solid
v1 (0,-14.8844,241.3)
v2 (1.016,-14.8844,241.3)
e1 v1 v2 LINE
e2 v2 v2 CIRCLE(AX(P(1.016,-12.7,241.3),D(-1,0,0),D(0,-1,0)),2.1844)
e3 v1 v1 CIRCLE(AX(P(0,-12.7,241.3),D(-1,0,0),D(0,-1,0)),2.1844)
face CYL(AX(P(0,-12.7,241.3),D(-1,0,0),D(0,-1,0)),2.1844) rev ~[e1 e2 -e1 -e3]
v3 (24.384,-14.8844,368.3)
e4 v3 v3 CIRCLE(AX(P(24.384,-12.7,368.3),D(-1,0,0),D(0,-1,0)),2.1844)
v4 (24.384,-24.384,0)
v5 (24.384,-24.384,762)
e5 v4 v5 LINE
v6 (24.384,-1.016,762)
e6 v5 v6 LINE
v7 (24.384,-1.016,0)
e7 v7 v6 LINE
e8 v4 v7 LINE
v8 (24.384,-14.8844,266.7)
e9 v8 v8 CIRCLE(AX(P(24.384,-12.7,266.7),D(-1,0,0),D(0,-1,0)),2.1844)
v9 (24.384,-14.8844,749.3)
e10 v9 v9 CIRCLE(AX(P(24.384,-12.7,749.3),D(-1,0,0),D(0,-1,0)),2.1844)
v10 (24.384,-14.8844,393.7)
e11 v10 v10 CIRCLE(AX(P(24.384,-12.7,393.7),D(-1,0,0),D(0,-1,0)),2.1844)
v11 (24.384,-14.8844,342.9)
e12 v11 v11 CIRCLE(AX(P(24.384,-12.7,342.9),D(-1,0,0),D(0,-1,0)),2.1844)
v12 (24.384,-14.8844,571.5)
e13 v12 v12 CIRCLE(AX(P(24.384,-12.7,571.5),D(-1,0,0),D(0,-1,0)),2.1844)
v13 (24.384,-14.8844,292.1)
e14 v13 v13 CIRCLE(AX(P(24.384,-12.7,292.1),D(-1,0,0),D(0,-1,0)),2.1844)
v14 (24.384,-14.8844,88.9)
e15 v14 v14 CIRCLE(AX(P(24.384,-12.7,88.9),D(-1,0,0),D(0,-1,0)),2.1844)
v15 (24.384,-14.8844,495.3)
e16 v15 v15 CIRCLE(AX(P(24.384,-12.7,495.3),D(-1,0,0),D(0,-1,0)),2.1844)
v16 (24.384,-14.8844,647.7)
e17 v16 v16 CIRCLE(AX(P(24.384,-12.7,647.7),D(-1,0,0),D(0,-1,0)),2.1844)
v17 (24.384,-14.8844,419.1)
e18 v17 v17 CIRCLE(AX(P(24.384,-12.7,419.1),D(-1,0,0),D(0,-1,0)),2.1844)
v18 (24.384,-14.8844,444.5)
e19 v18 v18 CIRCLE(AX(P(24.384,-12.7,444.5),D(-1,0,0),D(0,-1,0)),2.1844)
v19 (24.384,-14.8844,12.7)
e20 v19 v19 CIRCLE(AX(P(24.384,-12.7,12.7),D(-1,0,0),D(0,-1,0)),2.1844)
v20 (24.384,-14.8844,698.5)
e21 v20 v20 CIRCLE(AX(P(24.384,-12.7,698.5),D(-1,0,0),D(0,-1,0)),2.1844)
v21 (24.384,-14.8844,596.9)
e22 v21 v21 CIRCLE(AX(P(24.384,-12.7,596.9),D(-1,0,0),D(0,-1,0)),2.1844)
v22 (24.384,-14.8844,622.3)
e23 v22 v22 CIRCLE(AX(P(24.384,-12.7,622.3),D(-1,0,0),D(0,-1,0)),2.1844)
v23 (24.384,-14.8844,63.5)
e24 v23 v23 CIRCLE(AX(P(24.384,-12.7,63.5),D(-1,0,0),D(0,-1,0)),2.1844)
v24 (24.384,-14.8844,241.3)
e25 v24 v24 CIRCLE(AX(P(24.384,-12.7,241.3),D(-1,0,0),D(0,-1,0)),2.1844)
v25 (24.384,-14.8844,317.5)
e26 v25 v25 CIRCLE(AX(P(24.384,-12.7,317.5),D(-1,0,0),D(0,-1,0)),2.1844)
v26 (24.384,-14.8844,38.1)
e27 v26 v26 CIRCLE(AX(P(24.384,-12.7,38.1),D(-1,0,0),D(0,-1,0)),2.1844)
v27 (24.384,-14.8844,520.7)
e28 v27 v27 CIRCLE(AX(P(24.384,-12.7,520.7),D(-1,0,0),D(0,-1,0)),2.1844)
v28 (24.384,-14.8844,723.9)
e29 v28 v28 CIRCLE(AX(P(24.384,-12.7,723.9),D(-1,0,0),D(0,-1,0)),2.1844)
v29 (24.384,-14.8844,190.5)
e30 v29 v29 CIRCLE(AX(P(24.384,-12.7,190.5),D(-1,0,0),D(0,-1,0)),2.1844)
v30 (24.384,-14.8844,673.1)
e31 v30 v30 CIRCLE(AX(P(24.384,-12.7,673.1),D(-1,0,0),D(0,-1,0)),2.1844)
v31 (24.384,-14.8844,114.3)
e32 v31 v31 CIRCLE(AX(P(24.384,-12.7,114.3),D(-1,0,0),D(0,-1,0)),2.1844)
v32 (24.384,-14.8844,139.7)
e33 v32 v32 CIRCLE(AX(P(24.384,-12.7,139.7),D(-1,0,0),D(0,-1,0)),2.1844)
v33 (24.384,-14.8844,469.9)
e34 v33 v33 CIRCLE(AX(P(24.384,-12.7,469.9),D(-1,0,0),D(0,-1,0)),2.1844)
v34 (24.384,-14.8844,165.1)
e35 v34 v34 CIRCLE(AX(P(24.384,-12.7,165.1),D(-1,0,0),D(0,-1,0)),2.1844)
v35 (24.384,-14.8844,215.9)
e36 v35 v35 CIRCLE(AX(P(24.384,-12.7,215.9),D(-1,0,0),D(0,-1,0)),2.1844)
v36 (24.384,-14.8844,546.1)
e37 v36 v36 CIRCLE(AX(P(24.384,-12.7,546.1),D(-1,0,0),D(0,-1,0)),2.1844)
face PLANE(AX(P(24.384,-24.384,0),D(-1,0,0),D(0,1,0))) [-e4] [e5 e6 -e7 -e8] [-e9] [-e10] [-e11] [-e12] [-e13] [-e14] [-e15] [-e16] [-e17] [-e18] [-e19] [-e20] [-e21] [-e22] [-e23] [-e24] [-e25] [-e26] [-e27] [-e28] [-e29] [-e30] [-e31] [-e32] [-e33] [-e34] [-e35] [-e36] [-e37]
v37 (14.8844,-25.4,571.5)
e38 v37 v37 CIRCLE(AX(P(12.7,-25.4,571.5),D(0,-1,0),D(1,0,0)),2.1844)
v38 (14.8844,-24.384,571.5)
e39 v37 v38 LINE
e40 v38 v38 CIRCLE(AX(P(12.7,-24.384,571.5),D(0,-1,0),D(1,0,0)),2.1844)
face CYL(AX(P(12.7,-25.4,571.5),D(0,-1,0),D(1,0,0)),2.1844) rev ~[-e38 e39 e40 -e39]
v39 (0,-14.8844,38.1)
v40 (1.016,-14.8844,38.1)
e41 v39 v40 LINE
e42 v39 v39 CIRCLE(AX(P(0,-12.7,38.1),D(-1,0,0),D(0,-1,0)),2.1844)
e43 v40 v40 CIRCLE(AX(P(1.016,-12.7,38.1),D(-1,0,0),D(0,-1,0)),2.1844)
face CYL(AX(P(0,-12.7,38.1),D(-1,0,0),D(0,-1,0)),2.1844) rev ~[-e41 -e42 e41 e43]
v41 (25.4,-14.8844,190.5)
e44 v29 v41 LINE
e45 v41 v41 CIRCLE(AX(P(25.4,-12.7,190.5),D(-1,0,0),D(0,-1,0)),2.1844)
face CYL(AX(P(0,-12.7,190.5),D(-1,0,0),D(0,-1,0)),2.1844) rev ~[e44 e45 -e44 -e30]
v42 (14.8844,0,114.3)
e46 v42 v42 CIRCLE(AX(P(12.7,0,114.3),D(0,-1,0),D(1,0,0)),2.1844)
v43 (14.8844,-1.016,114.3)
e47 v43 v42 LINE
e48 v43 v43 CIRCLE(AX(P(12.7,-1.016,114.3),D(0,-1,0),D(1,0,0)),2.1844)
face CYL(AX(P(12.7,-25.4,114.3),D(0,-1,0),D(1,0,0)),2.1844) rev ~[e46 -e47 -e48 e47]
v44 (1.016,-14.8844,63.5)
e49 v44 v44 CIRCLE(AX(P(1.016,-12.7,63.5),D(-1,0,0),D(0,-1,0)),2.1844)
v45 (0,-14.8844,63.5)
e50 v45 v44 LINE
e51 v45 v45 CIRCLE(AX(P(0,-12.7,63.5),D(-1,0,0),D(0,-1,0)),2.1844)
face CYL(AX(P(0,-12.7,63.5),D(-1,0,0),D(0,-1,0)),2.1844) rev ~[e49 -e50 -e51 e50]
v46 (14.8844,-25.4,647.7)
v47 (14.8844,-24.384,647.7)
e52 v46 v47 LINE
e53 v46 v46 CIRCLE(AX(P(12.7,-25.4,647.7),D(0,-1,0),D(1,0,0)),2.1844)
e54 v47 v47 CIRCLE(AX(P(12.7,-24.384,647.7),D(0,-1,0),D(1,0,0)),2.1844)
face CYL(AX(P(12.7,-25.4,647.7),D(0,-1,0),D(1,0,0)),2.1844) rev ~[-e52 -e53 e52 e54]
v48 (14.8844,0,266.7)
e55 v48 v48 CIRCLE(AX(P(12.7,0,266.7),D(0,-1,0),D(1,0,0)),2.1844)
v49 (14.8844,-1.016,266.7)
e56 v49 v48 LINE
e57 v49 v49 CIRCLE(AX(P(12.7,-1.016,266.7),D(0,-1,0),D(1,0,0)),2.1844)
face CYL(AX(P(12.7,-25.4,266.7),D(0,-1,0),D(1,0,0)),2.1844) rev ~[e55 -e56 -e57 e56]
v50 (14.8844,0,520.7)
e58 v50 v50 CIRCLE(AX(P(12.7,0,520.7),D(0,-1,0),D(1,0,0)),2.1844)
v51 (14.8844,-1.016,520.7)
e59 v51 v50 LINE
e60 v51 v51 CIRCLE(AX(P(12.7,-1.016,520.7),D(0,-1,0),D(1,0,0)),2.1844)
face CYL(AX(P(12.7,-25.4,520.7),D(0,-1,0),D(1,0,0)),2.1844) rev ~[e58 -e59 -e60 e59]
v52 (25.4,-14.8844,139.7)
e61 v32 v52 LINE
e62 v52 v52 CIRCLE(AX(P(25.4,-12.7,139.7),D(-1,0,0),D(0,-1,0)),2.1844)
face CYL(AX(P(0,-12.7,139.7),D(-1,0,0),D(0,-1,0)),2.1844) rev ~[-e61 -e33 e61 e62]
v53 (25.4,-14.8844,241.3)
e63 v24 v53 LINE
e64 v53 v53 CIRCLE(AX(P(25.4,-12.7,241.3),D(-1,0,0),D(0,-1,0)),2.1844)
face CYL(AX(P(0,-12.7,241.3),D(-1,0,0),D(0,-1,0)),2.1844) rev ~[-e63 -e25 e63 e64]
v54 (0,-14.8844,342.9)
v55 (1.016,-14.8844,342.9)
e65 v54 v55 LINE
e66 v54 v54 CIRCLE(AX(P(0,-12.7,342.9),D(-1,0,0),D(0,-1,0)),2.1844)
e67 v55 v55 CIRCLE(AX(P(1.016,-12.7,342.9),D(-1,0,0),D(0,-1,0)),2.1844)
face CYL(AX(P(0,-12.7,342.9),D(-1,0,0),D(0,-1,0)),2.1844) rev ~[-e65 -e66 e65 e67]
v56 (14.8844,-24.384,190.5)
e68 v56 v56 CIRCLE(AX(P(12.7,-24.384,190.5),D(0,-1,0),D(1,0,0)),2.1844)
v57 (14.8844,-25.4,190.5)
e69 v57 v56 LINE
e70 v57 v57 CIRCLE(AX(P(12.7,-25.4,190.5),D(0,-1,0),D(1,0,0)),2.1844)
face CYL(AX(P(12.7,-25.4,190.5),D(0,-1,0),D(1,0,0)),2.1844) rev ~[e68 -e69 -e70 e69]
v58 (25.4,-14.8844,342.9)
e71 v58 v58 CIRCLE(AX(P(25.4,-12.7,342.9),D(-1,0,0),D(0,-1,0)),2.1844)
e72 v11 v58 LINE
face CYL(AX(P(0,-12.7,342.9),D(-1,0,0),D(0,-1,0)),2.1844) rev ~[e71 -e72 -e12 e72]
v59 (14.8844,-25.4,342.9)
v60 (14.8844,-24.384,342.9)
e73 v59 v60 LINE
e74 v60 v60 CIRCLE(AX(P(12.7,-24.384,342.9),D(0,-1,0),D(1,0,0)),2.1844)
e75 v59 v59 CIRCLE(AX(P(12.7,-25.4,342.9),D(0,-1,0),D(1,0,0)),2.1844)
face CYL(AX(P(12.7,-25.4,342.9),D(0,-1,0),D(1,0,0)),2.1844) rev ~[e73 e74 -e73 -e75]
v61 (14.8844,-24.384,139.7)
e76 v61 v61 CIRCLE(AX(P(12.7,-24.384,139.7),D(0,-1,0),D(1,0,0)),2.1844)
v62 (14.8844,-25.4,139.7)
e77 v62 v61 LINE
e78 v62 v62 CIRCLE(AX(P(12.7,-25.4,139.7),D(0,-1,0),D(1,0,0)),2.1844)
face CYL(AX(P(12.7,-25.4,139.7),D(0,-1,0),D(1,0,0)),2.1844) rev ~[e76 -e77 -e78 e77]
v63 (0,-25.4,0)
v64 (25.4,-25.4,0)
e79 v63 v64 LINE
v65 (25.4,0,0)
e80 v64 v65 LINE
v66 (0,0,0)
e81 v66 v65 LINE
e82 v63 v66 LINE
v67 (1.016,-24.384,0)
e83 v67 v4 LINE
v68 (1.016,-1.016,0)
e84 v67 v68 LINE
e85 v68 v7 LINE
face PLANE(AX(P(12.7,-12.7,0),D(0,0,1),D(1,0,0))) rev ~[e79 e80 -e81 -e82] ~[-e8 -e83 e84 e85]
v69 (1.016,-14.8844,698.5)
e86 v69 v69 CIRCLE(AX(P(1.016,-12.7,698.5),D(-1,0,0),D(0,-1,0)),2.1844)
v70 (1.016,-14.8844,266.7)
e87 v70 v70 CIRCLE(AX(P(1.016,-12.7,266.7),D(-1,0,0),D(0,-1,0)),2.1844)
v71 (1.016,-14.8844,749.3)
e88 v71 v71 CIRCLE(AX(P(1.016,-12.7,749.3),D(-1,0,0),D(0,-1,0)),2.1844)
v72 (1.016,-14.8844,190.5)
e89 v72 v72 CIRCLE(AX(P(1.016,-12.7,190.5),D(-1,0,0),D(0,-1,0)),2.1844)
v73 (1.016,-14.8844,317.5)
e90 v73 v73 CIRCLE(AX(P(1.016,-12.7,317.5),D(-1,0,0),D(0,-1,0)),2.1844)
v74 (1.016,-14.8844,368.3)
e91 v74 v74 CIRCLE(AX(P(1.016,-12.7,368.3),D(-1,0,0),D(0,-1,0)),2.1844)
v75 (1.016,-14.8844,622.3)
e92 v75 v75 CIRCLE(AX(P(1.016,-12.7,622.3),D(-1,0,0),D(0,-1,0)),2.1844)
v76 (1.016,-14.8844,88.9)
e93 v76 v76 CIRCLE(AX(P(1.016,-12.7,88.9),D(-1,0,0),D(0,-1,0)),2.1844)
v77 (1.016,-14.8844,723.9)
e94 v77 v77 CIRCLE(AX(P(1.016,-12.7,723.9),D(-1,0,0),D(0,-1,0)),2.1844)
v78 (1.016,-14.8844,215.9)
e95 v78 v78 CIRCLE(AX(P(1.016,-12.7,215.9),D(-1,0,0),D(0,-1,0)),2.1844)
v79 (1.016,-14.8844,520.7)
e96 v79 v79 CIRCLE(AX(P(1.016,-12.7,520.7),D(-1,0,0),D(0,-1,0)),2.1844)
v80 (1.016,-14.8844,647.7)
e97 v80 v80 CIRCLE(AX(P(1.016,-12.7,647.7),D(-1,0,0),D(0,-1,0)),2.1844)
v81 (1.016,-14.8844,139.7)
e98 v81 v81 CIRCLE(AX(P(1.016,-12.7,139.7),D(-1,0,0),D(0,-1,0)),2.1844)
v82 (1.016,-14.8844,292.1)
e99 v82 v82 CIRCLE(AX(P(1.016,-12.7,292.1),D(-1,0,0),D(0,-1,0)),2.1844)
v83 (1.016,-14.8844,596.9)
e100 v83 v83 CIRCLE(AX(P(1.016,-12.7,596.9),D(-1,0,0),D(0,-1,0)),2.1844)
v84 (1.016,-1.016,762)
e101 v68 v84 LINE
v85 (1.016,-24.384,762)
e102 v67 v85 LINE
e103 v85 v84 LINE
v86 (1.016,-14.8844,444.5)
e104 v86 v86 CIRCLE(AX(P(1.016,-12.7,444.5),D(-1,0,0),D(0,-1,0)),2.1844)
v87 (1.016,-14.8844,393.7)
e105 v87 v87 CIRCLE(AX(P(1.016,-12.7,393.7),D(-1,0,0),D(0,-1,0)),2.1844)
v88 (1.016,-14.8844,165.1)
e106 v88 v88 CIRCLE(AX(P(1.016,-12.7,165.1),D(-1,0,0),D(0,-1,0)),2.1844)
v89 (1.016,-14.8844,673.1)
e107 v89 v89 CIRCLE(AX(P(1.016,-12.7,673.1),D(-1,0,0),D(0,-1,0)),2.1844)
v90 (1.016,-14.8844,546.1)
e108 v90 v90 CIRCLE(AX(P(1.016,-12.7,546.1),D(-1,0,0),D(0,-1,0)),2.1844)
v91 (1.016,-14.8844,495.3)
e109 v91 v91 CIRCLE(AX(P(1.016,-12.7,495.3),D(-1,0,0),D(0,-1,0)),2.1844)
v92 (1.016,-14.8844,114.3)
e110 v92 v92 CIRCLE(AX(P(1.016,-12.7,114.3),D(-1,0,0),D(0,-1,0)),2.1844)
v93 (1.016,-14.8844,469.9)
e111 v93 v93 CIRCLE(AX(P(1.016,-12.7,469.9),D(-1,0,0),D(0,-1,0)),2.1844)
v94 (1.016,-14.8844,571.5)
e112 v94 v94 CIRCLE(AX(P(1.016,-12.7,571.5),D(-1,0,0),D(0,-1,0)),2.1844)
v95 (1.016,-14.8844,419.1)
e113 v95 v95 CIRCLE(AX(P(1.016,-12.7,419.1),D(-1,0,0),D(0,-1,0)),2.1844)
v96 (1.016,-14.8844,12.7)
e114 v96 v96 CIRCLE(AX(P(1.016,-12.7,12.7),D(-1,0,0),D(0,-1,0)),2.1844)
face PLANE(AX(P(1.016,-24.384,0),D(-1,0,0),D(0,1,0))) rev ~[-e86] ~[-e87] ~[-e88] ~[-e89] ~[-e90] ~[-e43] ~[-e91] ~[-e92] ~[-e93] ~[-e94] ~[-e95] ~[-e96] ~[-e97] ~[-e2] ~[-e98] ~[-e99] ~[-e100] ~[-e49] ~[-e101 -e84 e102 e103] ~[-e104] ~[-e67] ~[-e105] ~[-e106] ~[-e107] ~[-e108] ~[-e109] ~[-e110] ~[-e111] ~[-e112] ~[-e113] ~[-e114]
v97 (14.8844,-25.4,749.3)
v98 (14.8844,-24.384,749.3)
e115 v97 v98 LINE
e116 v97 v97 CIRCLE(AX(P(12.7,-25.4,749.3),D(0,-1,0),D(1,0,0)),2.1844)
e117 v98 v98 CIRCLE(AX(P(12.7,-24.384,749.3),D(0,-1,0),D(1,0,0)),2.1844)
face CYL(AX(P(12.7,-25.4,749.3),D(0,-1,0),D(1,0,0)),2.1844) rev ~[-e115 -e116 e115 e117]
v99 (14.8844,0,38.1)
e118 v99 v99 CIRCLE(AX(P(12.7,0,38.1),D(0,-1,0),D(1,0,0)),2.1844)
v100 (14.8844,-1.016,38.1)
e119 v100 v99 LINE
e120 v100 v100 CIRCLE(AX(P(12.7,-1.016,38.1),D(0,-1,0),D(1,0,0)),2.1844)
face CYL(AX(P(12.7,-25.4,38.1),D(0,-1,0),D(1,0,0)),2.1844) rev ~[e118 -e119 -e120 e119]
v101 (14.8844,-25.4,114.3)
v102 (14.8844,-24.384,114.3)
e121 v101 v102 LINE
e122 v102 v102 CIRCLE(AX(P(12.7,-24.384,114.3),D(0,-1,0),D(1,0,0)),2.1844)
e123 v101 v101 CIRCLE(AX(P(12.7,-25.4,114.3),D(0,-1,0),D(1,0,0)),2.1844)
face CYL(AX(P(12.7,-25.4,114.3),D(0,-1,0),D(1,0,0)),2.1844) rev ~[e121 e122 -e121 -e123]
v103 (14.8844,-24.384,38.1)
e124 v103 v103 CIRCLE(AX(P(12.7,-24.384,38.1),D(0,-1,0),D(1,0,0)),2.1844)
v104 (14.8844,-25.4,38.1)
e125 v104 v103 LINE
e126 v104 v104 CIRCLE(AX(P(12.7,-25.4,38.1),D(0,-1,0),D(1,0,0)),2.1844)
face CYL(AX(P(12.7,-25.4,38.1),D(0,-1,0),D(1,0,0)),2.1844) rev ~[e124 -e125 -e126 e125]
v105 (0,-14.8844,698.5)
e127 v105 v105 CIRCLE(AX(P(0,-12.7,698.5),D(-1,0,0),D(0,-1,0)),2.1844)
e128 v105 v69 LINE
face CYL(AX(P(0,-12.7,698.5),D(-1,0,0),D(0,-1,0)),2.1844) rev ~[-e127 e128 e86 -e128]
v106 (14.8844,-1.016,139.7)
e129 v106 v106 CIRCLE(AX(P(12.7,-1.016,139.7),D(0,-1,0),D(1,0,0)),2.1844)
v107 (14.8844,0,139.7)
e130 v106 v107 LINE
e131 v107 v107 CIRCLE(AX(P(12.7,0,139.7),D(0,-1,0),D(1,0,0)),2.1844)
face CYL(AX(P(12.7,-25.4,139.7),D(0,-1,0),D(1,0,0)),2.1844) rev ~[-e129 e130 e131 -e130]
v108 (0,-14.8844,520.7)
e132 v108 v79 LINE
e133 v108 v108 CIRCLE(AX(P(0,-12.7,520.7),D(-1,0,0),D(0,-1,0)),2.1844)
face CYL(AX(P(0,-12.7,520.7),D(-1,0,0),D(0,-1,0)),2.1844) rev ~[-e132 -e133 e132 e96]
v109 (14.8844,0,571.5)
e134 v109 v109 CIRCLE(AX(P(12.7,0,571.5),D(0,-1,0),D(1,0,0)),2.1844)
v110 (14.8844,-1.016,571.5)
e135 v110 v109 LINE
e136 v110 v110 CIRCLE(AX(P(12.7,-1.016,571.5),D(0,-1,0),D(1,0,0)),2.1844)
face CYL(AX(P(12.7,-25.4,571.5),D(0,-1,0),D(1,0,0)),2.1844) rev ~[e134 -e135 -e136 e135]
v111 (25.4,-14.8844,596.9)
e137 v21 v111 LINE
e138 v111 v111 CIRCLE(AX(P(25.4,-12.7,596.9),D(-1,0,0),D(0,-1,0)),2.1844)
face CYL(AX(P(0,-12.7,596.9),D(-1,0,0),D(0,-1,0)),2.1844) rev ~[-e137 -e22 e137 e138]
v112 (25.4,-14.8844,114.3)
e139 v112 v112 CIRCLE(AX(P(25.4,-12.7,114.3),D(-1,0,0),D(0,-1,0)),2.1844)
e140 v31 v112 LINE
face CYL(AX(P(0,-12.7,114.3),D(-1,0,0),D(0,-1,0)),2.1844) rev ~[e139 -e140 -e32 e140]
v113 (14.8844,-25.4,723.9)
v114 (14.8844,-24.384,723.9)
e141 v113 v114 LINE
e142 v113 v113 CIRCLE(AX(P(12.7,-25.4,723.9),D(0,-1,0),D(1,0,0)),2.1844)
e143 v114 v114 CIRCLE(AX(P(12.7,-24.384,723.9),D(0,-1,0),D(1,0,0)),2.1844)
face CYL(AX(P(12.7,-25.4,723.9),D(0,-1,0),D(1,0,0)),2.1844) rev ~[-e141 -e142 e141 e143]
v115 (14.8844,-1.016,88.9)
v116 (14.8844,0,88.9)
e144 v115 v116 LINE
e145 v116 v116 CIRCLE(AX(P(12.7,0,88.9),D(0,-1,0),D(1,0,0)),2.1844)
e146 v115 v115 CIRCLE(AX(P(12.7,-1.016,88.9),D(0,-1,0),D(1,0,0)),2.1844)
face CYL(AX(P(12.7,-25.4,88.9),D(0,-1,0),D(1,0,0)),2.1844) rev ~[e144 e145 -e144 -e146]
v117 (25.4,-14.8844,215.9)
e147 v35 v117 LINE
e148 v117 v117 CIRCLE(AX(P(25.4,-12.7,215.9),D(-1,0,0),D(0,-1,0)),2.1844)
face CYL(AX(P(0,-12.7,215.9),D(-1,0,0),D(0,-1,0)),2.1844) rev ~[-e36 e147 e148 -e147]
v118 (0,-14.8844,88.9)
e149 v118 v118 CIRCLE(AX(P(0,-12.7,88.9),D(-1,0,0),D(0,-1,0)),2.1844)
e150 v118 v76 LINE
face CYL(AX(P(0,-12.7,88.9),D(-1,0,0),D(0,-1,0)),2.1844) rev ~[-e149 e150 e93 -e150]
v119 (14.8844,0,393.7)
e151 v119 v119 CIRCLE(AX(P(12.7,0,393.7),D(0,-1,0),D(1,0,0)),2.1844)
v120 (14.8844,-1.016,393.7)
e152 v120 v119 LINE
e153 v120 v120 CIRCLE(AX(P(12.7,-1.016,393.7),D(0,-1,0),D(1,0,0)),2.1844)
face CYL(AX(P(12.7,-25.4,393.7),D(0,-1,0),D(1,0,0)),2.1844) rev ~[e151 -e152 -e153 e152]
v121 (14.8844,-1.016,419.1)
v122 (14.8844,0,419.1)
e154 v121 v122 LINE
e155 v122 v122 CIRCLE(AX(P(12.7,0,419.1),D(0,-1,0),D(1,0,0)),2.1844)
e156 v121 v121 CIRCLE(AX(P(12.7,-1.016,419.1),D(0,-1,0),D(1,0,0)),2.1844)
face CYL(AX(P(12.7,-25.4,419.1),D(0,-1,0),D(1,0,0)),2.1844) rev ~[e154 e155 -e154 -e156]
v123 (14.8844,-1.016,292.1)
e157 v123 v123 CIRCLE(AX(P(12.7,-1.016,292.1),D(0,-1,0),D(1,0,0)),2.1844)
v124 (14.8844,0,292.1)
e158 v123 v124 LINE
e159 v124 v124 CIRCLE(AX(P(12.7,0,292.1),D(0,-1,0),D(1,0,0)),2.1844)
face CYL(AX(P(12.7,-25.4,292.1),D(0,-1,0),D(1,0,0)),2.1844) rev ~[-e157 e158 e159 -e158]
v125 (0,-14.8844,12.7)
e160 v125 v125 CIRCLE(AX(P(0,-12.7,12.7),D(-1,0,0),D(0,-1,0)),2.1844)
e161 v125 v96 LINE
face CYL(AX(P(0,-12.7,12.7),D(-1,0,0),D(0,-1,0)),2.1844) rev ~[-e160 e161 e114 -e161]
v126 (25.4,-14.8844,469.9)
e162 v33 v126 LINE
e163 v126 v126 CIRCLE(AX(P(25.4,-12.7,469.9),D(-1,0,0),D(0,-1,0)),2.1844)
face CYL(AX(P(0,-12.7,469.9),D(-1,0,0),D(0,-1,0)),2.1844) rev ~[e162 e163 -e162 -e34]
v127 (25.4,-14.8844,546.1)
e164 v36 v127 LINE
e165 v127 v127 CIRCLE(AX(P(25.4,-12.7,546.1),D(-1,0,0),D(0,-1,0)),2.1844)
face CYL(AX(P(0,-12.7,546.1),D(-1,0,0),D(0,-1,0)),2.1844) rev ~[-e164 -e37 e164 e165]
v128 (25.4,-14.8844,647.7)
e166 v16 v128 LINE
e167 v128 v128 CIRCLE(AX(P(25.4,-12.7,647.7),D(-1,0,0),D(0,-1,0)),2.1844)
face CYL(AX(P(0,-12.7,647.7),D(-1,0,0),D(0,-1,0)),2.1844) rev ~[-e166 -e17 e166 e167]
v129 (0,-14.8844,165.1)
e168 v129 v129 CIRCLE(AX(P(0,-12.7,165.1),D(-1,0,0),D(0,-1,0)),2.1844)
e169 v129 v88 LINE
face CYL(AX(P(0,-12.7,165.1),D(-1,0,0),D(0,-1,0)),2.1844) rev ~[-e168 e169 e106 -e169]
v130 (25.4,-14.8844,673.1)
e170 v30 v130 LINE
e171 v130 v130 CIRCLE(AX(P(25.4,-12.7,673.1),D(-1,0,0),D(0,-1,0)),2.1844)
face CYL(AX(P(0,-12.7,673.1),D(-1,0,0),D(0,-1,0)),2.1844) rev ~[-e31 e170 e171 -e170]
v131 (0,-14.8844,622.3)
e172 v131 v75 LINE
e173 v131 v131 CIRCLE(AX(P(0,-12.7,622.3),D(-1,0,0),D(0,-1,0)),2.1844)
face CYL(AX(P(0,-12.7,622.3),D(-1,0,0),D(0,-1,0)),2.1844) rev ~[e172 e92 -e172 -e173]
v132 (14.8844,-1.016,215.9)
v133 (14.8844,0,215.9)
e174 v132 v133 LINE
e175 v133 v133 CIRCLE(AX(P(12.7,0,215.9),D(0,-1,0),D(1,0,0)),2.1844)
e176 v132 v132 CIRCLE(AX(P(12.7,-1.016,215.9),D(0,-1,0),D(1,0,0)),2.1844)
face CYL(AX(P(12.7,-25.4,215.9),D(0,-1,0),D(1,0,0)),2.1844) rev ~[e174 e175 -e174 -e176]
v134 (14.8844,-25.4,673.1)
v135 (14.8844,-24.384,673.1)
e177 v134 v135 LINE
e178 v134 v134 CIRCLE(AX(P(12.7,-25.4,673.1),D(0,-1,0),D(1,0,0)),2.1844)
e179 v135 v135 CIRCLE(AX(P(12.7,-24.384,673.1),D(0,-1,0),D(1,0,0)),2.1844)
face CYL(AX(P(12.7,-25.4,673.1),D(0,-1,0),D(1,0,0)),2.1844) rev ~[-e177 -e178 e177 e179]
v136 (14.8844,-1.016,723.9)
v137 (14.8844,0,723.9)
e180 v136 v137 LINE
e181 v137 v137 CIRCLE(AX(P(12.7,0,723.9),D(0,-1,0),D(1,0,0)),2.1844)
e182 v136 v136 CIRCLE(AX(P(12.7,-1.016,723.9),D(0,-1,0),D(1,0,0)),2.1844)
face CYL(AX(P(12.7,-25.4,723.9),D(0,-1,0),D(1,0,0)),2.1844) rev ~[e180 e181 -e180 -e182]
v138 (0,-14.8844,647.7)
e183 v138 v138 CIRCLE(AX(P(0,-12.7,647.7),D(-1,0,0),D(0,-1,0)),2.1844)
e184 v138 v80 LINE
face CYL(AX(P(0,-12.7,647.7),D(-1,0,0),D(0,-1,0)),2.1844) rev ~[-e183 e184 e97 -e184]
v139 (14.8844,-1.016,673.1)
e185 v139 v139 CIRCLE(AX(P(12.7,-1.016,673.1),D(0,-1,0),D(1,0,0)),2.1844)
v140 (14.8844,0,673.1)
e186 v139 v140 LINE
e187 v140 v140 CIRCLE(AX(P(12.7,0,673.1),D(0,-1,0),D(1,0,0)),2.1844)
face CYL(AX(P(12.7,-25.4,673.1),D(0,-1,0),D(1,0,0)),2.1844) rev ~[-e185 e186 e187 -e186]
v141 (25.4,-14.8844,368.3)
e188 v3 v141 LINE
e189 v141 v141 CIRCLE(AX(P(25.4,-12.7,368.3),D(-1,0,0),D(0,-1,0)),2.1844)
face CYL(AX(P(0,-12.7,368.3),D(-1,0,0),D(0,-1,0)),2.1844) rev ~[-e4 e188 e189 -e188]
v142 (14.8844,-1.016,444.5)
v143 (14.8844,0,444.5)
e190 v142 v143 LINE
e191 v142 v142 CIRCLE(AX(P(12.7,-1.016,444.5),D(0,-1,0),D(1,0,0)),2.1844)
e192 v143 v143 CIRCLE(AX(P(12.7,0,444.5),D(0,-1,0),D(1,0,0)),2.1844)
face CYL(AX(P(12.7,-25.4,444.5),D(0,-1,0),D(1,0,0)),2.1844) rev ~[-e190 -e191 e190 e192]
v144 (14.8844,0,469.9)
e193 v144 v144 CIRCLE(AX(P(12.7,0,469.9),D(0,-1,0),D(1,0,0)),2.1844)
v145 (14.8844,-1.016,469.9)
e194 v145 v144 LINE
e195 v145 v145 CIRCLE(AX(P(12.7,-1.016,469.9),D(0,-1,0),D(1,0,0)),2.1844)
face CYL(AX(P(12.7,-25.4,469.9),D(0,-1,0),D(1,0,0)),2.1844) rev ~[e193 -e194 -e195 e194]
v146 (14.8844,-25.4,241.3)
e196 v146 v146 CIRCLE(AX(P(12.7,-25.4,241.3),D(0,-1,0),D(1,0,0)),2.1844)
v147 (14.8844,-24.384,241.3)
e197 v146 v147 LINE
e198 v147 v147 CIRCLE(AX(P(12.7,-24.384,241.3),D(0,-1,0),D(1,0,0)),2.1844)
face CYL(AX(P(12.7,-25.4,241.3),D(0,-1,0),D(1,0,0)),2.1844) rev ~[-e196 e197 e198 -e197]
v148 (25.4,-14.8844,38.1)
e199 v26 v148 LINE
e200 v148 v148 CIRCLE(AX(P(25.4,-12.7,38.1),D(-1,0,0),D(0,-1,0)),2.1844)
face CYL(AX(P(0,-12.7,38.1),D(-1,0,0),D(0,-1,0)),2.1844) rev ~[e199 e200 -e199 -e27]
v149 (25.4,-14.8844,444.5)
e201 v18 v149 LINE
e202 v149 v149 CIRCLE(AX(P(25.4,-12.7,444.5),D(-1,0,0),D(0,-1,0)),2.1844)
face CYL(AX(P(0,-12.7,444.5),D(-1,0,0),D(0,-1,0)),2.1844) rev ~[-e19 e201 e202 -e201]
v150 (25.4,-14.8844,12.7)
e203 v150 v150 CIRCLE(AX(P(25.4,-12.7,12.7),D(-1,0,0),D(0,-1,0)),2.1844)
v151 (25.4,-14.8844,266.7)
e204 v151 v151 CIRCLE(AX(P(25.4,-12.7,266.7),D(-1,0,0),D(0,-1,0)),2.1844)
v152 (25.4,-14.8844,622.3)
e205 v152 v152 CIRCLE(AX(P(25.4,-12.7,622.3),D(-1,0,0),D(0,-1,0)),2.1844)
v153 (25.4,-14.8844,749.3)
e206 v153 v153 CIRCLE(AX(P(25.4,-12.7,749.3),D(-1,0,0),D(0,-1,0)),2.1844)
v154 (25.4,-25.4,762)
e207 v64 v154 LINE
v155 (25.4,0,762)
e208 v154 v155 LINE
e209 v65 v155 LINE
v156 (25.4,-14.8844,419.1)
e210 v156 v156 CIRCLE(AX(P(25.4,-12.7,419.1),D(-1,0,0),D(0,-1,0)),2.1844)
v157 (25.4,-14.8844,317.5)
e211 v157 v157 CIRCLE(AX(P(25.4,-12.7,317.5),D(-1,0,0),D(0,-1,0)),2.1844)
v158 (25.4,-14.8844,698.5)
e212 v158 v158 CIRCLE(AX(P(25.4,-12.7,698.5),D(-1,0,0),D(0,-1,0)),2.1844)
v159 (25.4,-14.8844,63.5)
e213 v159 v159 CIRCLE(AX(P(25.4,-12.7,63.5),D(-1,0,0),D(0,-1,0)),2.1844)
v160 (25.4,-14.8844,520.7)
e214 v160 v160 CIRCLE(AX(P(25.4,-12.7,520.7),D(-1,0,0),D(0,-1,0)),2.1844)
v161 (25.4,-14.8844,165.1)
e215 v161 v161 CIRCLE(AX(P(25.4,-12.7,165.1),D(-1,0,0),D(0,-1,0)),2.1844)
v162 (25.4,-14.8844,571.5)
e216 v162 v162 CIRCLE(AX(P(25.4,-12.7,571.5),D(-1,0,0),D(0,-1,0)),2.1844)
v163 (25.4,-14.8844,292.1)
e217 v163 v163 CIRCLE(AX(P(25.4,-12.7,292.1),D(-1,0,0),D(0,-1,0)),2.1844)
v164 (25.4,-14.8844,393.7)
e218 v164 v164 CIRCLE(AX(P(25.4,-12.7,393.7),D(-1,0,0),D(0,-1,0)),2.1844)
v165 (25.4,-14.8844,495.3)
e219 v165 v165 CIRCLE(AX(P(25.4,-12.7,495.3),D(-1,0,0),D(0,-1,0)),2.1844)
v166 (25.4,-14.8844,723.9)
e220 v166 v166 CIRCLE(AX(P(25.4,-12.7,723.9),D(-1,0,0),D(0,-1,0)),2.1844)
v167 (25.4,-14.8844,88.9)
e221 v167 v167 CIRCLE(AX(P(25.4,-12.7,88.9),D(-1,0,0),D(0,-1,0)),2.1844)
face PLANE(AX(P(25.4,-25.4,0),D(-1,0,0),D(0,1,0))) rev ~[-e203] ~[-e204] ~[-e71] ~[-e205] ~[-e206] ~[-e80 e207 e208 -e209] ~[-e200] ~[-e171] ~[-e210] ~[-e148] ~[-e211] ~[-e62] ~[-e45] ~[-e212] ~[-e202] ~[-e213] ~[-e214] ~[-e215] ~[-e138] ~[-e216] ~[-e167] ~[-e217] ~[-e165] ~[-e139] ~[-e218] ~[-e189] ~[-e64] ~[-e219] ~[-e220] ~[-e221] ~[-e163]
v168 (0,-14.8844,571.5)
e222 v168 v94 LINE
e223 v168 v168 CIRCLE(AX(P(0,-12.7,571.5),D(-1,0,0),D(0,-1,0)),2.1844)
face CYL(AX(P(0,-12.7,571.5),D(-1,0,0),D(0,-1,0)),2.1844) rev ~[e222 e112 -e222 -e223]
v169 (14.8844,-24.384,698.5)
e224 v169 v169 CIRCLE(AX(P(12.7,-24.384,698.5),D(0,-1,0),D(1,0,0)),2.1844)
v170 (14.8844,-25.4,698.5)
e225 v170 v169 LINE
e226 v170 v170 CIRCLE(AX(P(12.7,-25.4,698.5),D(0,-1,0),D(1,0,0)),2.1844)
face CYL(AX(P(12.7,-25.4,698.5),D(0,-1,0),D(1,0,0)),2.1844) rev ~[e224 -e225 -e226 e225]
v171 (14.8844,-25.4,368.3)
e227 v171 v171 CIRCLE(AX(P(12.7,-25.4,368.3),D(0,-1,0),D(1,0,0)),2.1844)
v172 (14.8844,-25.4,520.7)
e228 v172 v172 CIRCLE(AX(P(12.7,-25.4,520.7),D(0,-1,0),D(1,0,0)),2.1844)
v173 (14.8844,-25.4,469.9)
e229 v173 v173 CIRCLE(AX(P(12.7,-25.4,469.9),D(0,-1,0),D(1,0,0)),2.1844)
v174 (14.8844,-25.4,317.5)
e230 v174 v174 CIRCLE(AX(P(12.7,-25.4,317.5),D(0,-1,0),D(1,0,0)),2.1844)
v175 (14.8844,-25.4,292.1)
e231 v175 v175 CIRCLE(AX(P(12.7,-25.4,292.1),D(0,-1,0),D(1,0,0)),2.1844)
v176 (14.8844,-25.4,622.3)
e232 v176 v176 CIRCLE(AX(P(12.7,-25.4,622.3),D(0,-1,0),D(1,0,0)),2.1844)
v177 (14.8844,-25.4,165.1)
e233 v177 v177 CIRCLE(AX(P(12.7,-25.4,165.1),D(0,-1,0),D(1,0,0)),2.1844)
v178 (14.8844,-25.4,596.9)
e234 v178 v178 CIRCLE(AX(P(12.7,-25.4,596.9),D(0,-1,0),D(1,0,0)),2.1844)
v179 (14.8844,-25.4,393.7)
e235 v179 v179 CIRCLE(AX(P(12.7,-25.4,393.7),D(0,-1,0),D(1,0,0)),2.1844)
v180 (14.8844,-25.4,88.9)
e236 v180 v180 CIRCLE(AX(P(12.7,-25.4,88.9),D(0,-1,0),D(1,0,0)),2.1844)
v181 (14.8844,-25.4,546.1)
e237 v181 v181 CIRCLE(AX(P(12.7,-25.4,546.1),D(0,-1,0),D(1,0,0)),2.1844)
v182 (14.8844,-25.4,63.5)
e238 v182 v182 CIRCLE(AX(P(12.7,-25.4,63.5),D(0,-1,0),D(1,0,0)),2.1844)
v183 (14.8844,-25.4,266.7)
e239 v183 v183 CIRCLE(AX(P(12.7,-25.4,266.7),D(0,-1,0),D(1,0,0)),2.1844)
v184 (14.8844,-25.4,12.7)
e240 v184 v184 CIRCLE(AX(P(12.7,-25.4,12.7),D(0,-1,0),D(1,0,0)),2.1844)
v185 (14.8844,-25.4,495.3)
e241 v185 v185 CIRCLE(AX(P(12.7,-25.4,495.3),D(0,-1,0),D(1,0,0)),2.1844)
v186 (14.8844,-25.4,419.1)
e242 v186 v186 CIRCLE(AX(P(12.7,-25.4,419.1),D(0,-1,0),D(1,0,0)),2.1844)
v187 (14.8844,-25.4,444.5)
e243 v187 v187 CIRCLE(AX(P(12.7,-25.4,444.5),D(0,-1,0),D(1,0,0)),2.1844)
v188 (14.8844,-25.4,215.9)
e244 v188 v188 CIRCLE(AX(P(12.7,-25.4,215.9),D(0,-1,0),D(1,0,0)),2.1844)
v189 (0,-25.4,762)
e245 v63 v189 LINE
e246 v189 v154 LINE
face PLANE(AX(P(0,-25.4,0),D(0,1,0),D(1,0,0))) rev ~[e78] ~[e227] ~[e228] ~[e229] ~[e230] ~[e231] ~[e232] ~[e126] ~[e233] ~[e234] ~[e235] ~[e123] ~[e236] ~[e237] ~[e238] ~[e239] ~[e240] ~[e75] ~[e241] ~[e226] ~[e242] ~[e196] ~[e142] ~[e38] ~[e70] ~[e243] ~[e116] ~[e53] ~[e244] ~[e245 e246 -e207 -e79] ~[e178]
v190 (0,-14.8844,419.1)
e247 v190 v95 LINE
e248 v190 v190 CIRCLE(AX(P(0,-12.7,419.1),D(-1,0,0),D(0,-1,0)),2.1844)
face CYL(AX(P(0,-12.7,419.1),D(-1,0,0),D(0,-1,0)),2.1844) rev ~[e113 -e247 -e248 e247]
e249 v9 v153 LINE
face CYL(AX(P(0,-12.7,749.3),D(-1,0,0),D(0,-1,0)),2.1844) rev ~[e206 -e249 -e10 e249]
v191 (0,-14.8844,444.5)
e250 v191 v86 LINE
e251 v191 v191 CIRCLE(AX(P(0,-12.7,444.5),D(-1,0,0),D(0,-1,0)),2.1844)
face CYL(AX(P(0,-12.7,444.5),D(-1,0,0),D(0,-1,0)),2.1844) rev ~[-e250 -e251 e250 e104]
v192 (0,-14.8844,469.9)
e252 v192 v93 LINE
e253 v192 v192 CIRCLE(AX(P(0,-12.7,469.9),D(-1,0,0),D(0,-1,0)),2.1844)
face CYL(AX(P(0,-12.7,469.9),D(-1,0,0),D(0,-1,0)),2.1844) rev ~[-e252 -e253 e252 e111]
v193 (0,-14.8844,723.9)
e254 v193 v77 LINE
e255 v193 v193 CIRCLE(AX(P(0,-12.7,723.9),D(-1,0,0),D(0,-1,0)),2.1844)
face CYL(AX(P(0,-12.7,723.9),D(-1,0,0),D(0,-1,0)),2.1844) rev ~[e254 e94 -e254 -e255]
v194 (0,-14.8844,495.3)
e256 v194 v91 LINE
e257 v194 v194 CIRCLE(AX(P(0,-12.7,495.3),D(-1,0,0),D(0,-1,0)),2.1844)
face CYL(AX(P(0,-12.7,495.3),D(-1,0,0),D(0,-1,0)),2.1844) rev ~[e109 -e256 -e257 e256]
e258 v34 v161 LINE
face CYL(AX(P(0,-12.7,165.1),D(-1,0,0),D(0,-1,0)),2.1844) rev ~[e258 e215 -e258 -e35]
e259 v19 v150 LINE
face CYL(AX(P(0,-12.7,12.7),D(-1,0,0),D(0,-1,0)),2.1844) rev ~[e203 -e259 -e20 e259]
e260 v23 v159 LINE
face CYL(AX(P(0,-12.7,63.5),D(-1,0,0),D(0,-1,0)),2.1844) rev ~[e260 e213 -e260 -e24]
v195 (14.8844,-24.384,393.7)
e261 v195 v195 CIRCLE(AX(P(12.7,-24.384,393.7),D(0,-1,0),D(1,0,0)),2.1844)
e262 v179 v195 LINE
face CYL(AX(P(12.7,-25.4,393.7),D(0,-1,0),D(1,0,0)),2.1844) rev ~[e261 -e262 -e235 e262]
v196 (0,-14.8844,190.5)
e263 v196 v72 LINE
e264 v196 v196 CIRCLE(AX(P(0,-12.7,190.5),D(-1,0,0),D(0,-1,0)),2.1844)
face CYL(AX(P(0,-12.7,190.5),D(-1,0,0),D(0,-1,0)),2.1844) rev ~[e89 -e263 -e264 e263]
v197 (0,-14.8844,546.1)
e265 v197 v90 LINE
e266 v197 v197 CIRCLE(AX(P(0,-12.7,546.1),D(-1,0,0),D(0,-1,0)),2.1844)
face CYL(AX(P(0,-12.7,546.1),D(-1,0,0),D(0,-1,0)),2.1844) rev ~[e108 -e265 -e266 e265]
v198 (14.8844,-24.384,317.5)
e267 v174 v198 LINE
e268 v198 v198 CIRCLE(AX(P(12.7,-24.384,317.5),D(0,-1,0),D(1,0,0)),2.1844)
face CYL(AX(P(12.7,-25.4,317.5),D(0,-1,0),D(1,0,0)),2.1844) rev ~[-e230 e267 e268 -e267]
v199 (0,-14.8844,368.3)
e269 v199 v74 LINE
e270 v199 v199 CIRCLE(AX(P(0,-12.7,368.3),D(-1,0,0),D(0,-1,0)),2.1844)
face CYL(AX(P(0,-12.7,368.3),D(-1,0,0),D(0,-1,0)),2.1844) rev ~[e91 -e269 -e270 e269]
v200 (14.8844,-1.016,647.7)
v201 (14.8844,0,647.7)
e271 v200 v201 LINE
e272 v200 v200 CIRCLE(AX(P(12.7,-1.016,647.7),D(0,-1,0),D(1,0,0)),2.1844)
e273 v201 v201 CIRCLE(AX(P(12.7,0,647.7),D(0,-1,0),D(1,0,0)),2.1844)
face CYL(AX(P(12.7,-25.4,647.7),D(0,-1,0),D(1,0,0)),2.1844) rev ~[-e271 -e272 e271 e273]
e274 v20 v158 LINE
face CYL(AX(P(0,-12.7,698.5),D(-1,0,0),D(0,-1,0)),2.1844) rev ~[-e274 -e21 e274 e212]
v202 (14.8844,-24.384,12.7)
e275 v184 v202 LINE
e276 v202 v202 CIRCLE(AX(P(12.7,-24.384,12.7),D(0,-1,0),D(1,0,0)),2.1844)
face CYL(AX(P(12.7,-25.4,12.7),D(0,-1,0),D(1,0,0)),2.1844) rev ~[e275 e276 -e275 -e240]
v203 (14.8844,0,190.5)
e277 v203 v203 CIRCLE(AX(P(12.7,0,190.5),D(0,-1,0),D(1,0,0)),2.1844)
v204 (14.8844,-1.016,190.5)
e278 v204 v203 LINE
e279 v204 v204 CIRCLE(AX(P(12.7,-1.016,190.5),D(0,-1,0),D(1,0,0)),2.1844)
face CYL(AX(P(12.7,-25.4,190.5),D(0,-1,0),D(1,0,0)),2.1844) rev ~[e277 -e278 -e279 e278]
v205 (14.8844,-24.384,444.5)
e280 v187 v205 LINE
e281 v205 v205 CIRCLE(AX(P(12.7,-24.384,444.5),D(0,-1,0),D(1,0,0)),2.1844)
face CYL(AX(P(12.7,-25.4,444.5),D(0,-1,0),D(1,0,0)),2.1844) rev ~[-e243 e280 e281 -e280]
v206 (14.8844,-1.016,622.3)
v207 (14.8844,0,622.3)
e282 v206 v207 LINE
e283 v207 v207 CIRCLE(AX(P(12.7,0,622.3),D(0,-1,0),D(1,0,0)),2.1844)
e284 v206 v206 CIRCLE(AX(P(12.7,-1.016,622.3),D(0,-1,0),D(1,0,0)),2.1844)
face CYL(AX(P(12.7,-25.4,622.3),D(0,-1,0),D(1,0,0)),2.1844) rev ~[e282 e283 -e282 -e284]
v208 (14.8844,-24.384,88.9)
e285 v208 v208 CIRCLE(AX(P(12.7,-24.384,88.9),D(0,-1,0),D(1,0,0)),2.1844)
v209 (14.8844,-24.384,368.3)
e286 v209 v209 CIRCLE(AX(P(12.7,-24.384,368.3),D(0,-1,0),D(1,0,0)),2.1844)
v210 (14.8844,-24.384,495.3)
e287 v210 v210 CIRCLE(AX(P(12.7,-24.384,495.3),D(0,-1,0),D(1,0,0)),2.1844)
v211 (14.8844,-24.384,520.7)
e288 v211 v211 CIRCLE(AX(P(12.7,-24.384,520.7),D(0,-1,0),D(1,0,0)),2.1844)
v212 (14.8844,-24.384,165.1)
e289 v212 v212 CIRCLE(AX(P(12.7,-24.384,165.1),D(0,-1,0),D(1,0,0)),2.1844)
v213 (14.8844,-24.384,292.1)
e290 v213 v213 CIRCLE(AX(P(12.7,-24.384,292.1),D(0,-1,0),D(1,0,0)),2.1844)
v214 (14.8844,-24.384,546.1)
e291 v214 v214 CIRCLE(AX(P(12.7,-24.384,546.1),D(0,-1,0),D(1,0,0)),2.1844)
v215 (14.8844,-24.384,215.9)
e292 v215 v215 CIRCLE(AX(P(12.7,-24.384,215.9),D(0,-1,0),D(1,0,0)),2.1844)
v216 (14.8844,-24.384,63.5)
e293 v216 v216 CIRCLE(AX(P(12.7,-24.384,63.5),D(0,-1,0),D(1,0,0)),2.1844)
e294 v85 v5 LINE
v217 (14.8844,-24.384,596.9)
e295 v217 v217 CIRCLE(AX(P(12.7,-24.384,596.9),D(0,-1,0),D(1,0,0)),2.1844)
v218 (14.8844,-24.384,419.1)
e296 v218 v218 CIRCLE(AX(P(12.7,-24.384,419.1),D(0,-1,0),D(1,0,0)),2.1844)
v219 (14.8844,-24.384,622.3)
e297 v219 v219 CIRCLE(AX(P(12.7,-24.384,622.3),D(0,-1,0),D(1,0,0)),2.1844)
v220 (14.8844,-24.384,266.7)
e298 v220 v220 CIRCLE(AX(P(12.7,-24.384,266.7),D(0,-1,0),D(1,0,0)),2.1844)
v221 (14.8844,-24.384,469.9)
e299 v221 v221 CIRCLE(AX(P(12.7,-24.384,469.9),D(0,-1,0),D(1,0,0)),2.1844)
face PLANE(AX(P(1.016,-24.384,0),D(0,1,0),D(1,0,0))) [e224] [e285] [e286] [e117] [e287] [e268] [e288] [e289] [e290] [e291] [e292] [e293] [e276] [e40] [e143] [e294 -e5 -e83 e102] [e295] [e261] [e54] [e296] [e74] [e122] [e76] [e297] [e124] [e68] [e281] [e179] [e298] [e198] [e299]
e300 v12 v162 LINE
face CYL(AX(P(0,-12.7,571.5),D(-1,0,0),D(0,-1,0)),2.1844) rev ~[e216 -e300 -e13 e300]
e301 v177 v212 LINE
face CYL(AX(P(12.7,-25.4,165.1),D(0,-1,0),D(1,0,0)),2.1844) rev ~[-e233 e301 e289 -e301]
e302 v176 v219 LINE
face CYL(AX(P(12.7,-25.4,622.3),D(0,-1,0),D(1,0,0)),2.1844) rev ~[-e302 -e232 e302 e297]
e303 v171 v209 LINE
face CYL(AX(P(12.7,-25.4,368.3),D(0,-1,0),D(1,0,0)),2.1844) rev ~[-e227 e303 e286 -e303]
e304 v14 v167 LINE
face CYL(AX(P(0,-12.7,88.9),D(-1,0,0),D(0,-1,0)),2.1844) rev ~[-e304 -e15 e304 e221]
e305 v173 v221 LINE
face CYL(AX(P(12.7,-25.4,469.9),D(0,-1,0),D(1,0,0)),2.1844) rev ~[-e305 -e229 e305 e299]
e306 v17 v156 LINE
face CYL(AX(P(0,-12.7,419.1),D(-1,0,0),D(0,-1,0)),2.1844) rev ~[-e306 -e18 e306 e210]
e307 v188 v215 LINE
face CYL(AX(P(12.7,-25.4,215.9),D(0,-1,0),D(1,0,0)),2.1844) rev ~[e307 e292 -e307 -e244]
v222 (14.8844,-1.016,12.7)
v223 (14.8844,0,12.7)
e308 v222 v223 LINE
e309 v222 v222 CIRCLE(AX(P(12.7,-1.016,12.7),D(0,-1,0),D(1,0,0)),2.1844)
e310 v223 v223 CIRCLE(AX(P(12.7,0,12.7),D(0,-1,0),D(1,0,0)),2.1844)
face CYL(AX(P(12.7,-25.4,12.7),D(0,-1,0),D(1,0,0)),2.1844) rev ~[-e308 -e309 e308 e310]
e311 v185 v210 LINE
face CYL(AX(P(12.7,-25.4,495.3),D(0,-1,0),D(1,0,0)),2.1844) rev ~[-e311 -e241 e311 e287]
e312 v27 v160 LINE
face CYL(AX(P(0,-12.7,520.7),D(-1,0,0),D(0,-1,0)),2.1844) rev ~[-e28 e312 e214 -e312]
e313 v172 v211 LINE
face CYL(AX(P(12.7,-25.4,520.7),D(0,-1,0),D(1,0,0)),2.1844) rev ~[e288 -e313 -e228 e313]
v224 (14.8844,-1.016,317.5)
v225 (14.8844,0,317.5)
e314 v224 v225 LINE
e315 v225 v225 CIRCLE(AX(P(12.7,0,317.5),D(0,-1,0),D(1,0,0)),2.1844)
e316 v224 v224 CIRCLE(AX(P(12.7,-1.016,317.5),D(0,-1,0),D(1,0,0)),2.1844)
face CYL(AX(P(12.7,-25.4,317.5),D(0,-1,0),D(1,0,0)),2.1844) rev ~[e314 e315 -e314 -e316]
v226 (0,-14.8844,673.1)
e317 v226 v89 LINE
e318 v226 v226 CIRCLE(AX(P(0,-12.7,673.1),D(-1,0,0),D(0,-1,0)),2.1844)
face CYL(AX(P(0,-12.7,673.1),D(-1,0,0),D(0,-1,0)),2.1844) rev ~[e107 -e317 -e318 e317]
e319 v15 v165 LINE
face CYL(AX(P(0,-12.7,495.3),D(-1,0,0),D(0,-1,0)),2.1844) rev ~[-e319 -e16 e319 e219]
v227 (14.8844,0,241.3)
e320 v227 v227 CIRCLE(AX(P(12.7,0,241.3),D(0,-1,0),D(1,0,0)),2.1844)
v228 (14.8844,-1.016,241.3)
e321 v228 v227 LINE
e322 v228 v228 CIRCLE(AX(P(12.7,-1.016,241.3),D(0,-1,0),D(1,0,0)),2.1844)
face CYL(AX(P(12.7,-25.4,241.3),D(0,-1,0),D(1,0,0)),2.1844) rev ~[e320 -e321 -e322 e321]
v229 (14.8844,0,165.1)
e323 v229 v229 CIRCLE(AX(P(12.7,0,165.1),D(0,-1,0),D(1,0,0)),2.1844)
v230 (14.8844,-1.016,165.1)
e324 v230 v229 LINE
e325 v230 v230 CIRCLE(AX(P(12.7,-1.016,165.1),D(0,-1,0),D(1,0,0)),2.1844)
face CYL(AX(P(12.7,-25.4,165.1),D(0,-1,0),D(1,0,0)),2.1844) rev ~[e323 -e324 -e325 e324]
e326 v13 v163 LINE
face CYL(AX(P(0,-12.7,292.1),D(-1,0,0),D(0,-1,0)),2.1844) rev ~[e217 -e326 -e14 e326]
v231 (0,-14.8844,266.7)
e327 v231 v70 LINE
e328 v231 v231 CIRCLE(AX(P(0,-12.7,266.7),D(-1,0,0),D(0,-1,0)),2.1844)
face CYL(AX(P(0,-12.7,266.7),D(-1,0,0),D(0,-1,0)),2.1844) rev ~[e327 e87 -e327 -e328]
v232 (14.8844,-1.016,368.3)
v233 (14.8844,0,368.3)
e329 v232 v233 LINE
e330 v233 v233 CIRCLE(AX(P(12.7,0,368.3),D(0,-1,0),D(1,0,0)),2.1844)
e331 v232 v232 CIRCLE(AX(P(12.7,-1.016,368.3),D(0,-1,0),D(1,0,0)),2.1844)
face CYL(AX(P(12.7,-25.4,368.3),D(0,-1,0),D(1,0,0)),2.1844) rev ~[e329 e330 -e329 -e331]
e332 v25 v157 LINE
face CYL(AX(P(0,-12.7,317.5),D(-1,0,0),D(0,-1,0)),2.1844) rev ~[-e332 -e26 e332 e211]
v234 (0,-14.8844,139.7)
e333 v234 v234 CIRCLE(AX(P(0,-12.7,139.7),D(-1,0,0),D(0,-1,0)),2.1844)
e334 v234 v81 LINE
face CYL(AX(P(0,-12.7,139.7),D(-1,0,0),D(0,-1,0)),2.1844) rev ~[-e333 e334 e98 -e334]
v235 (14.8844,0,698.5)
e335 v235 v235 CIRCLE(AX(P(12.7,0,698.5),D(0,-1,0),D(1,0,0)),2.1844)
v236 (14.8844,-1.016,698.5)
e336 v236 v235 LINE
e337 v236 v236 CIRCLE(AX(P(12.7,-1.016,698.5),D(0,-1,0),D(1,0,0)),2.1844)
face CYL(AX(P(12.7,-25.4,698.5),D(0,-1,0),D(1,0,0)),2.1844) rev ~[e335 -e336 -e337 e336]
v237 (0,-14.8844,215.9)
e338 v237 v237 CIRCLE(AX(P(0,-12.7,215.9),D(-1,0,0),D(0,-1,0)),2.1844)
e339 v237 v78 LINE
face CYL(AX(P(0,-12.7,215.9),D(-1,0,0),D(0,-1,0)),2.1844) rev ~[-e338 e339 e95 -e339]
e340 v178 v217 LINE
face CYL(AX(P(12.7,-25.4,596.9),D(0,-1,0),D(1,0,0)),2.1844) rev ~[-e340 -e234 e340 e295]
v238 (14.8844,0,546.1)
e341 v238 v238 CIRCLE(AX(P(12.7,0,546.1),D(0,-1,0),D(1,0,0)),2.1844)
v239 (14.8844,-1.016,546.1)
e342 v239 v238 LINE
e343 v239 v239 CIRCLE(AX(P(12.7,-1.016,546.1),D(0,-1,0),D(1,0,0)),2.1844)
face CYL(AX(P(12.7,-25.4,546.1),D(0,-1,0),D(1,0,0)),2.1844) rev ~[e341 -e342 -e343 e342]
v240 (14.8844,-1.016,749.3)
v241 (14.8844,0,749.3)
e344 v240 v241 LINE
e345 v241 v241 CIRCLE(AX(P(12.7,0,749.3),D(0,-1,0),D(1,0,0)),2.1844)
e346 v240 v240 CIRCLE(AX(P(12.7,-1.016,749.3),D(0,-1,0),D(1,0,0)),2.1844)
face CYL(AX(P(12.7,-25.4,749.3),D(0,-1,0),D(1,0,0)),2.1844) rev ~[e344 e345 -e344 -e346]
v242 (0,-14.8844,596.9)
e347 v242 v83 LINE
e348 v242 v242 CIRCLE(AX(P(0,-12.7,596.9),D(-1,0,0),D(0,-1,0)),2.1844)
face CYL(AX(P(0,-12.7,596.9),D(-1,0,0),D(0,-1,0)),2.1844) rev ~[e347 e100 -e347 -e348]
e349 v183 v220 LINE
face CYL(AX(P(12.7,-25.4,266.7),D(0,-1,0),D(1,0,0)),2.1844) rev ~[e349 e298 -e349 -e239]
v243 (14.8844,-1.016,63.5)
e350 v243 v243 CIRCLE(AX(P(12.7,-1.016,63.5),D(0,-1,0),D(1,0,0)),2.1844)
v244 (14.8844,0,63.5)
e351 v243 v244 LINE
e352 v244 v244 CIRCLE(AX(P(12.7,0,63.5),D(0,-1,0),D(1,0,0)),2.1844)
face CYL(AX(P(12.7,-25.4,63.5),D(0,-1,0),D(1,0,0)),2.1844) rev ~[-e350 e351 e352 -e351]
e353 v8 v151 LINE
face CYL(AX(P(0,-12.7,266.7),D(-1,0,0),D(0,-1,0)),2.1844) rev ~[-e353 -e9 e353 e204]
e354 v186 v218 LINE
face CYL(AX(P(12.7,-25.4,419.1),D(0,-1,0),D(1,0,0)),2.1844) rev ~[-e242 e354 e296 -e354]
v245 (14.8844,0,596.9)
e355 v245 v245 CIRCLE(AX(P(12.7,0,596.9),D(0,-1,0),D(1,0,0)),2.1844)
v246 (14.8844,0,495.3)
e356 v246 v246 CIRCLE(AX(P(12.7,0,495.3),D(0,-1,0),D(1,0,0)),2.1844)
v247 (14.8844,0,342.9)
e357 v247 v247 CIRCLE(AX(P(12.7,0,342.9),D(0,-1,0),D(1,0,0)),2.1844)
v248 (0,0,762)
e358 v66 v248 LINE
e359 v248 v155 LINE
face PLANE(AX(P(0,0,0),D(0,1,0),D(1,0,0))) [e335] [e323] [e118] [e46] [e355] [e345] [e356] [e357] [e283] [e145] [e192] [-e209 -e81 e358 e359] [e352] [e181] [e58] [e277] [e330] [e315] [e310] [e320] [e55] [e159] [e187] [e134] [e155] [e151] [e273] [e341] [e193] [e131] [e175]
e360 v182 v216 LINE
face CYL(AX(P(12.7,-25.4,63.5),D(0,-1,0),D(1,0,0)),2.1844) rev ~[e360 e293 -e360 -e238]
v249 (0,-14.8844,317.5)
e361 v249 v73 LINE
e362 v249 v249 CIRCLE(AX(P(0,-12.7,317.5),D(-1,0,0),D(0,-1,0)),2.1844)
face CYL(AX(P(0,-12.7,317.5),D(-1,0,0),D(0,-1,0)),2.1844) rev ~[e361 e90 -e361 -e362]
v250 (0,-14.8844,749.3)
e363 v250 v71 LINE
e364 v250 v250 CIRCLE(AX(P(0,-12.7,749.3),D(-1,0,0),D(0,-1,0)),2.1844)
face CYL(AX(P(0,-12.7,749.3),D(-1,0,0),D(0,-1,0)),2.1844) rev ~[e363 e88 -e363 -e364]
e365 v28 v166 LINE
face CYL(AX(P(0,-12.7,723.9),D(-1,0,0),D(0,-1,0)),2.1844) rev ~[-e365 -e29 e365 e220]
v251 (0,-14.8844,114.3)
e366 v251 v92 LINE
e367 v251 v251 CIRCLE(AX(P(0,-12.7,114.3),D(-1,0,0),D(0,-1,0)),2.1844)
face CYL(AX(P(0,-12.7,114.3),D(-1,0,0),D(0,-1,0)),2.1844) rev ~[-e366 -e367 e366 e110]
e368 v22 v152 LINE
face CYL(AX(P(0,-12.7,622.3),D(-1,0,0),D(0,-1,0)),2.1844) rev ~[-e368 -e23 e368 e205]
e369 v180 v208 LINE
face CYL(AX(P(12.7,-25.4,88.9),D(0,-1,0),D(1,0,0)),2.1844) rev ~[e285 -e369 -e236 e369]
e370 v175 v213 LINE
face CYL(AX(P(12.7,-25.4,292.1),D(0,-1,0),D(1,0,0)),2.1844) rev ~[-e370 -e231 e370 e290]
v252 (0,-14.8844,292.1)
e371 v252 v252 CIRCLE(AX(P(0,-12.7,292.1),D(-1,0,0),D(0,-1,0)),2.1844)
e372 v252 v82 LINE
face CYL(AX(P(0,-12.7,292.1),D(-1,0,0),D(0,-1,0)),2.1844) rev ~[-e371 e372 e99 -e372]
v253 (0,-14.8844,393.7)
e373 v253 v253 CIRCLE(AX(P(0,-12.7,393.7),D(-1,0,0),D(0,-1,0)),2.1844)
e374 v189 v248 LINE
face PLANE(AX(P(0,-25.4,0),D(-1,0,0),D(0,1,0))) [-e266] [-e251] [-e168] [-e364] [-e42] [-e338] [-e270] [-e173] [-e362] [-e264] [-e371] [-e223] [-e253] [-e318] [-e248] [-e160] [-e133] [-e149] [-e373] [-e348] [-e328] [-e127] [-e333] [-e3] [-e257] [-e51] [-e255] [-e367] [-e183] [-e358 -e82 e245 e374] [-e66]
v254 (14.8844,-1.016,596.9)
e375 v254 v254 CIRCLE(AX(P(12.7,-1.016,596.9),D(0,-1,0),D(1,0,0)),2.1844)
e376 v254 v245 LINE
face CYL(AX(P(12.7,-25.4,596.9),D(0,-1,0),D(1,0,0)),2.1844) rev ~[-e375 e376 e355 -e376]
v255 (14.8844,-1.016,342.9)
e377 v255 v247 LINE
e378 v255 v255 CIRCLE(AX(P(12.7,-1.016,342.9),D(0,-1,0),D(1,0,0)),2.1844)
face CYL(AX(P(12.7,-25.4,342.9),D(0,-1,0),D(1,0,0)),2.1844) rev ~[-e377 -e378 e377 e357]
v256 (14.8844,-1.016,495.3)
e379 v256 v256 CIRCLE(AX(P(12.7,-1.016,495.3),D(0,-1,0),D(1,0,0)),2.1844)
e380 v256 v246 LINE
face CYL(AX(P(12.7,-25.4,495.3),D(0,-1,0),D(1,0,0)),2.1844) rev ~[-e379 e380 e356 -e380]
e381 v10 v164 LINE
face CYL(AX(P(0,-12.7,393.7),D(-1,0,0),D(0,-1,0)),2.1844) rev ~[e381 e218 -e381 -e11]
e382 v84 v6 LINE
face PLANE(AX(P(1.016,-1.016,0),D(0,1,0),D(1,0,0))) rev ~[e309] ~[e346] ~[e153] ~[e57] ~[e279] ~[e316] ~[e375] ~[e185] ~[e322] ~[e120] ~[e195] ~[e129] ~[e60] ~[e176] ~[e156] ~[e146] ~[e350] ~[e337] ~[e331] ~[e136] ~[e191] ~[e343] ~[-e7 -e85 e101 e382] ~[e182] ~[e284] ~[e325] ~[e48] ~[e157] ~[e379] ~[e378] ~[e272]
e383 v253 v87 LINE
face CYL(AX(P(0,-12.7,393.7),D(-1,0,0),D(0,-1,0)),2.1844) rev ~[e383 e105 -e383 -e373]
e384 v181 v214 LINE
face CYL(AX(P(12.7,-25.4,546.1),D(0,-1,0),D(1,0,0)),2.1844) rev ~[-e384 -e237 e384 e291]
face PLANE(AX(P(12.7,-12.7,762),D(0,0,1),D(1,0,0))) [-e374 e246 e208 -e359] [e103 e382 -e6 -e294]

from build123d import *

# Parameters (mm, degrees)
F0_W     = 25.4
F0_H     = 25.4
F0_W_2   = 23.368
F0_H_2   = 23.368
F1_DEPTH = 762
F2_R     = 2.1844
F3_DEPTH = 25.4
F4_R     = 2.1844
F5_DEPTH = 25.4


with BuildPart() as f1:
    # F0 (on Top) → F1 (new body)
    with BuildSketch(Plane.XY):
        with Locations((12.7, -12.7)):
            Rectangle(F0_W, F0_H)
        with Locations((12.7, -12.7)):
            Rectangle(F0_W_2, F0_H_2, mode=Mode.SUBTRACT)
    extrude(amount=F1_DEPTH)

    # F2 (on face) → F3 (cut)
    with BuildSketch(Plane.XZ.offset(25.4)):
        with Locations((12.7, 12.7)):
            Circle(F2_R)
        with Locations((12.7, 38.1)):
            Circle(F2_R)
        with Locations((12.7, 241.3)):
            Circle(F2_R)
        with Locations((12.7, 215.9)):
            Circle(F2_R)
        with Locations((12.7, 190.5)):
            Circle(F2_R)
        with Locations((12.7, 165.1)):
            Circle(F2_R)
        with Locations((12.7, 139.7)):
            Circle(F2_R)
        with Locations((12.7, 114.3)):
            Circle(F2_R)
        with Locations((12.7, 88.9)):
            Circle(F2_R)
        with Locations((12.7, 63.5)):
            Circle(F2_R)
        with Locations((12.7, 266.7)):
            Circle(F2_R)
        with Locations((12.7, 292.1)):
            Circle(F2_R)
        with Locations((12.7, 317.5)):
            Circle(F2_R)
        with Locations((12.7, 342.9)):
            Circle(F2_R)
        with Locations((12.7, 368.3)):
            Circle(F2_R)
        with Locations((12.7, 393.7)):
            Circle(F2_R)
        with Locations((12.7, 419.1)):
            Circle(F2_R)
        with Locations((12.7, 444.5)):
            Circle(F2_R)
        with Locations((12.7, 469.9)):
            Circle(F2_R)
        with Locations((12.7, 495.3)):
            Circle(F2_R)
        with Locations((12.7, 520.7)):
            Circle(F2_R)
        with Locations((12.7, 546.1)):
            Circle(F2_R)
        with Locations((12.7, 571.5)):
            Circle(F2_R)
        with Locations((12.7, 596.9)):
            Circle(F2_R)
        with Locations((12.7, 622.3)):
            Circle(F2_R)
        with Locations((12.7, 647.7)):
            Circle(F2_R)
        with Locations((12.7, 673.1)):
            Circle(F2_R)
        with Locations((12.7, 698.5)):
            Circle(F2_R)
        with Locations((12.7, 723.9)):
            Circle(F2_R)
        with Locations((12.7, 749.3)):
            Circle(F2_R)
    extrude(amount=-F3_DEPTH, mode=Mode.SUBTRACT)

    # F4 (on face) → F5 (cut)
    with BuildSketch(Plane(origin=(0, 0, 0), x_dir=(0, -1, 0), z_dir=(-1, 0, 0))):
        with Locations((12.7, 12.7)):
            Circle(F4_R)
        with Locations((12.7, 38.1)):
            Circle(F4_R)
        with Locations((12.7, 63.5)):
            Circle(F4_R)
        with Locations((12.7, 88.9)):
            Circle(F4_R)
        with Locations((12.7, 114.3)):
            Circle(F4_R)
        with Locations((12.7, 139.7)):
            Circle(F4_R)
        with Locations((12.7, 165.1)):
            Circle(F4_R)
        with Locations((12.7, 190.5)):
            Circle(F4_R)
        with Locations((12.7, 215.9)):
            Circle(F4_R)
        with Locations((12.7, 241.3)):
            Circle(F4_R)
        with Locations((12.7, 266.7)):
            Circle(F4_R)
        with Locations((12.7, 292.1)):
            Circle(F4_R)
        with Locations((12.7, 317.5)):
            Circle(F4_R)
        with Locations((12.7, 342.9)):
            Circle(F4_R)
        with Locations((12.7, 368.3)):
            Circle(F4_R)
        with Locations((12.7, 393.7)):
            Circle(F4_R)
        with Locations((12.7, 419.1)):
            Circle(F4_R)
        with Locations((12.7, 444.5)):
            Circle(F4_R)
        with Locations((12.7, 546.1)):
            Circle(F4_R)
        with Locations((12.7, 520.7)):
            Circle(F4_R)
        with Locations((12.7, 495.3)):
            Circle(F4_R)
        with Locations((12.7, 469.9)):
            Circle(F4_R)
        with Locations((12.7, 571.5)):
            Circle(F4_R)
        with Locations((12.7, 596.9)):
            Circle(F4_R)
        with Locations((12.7, 622.3)):
            Circle(F4_R)
        with Locations((12.7, 647.7)):
            Circle(F4_R)
        with Locations((12.7, 673.1)):
            Circle(F4_R)
        with Locations((12.7, 698.5)):
            Circle(F4_R)
        with Locations((12.7, 723.9)):
            Circle(F4_R)
        with Locations((12.7, 749.3)):
            Circle(F4_R)
    extrude(amount=-F5_DEPTH, mode=Mode.SUBTRACT)


solid = f1.part
